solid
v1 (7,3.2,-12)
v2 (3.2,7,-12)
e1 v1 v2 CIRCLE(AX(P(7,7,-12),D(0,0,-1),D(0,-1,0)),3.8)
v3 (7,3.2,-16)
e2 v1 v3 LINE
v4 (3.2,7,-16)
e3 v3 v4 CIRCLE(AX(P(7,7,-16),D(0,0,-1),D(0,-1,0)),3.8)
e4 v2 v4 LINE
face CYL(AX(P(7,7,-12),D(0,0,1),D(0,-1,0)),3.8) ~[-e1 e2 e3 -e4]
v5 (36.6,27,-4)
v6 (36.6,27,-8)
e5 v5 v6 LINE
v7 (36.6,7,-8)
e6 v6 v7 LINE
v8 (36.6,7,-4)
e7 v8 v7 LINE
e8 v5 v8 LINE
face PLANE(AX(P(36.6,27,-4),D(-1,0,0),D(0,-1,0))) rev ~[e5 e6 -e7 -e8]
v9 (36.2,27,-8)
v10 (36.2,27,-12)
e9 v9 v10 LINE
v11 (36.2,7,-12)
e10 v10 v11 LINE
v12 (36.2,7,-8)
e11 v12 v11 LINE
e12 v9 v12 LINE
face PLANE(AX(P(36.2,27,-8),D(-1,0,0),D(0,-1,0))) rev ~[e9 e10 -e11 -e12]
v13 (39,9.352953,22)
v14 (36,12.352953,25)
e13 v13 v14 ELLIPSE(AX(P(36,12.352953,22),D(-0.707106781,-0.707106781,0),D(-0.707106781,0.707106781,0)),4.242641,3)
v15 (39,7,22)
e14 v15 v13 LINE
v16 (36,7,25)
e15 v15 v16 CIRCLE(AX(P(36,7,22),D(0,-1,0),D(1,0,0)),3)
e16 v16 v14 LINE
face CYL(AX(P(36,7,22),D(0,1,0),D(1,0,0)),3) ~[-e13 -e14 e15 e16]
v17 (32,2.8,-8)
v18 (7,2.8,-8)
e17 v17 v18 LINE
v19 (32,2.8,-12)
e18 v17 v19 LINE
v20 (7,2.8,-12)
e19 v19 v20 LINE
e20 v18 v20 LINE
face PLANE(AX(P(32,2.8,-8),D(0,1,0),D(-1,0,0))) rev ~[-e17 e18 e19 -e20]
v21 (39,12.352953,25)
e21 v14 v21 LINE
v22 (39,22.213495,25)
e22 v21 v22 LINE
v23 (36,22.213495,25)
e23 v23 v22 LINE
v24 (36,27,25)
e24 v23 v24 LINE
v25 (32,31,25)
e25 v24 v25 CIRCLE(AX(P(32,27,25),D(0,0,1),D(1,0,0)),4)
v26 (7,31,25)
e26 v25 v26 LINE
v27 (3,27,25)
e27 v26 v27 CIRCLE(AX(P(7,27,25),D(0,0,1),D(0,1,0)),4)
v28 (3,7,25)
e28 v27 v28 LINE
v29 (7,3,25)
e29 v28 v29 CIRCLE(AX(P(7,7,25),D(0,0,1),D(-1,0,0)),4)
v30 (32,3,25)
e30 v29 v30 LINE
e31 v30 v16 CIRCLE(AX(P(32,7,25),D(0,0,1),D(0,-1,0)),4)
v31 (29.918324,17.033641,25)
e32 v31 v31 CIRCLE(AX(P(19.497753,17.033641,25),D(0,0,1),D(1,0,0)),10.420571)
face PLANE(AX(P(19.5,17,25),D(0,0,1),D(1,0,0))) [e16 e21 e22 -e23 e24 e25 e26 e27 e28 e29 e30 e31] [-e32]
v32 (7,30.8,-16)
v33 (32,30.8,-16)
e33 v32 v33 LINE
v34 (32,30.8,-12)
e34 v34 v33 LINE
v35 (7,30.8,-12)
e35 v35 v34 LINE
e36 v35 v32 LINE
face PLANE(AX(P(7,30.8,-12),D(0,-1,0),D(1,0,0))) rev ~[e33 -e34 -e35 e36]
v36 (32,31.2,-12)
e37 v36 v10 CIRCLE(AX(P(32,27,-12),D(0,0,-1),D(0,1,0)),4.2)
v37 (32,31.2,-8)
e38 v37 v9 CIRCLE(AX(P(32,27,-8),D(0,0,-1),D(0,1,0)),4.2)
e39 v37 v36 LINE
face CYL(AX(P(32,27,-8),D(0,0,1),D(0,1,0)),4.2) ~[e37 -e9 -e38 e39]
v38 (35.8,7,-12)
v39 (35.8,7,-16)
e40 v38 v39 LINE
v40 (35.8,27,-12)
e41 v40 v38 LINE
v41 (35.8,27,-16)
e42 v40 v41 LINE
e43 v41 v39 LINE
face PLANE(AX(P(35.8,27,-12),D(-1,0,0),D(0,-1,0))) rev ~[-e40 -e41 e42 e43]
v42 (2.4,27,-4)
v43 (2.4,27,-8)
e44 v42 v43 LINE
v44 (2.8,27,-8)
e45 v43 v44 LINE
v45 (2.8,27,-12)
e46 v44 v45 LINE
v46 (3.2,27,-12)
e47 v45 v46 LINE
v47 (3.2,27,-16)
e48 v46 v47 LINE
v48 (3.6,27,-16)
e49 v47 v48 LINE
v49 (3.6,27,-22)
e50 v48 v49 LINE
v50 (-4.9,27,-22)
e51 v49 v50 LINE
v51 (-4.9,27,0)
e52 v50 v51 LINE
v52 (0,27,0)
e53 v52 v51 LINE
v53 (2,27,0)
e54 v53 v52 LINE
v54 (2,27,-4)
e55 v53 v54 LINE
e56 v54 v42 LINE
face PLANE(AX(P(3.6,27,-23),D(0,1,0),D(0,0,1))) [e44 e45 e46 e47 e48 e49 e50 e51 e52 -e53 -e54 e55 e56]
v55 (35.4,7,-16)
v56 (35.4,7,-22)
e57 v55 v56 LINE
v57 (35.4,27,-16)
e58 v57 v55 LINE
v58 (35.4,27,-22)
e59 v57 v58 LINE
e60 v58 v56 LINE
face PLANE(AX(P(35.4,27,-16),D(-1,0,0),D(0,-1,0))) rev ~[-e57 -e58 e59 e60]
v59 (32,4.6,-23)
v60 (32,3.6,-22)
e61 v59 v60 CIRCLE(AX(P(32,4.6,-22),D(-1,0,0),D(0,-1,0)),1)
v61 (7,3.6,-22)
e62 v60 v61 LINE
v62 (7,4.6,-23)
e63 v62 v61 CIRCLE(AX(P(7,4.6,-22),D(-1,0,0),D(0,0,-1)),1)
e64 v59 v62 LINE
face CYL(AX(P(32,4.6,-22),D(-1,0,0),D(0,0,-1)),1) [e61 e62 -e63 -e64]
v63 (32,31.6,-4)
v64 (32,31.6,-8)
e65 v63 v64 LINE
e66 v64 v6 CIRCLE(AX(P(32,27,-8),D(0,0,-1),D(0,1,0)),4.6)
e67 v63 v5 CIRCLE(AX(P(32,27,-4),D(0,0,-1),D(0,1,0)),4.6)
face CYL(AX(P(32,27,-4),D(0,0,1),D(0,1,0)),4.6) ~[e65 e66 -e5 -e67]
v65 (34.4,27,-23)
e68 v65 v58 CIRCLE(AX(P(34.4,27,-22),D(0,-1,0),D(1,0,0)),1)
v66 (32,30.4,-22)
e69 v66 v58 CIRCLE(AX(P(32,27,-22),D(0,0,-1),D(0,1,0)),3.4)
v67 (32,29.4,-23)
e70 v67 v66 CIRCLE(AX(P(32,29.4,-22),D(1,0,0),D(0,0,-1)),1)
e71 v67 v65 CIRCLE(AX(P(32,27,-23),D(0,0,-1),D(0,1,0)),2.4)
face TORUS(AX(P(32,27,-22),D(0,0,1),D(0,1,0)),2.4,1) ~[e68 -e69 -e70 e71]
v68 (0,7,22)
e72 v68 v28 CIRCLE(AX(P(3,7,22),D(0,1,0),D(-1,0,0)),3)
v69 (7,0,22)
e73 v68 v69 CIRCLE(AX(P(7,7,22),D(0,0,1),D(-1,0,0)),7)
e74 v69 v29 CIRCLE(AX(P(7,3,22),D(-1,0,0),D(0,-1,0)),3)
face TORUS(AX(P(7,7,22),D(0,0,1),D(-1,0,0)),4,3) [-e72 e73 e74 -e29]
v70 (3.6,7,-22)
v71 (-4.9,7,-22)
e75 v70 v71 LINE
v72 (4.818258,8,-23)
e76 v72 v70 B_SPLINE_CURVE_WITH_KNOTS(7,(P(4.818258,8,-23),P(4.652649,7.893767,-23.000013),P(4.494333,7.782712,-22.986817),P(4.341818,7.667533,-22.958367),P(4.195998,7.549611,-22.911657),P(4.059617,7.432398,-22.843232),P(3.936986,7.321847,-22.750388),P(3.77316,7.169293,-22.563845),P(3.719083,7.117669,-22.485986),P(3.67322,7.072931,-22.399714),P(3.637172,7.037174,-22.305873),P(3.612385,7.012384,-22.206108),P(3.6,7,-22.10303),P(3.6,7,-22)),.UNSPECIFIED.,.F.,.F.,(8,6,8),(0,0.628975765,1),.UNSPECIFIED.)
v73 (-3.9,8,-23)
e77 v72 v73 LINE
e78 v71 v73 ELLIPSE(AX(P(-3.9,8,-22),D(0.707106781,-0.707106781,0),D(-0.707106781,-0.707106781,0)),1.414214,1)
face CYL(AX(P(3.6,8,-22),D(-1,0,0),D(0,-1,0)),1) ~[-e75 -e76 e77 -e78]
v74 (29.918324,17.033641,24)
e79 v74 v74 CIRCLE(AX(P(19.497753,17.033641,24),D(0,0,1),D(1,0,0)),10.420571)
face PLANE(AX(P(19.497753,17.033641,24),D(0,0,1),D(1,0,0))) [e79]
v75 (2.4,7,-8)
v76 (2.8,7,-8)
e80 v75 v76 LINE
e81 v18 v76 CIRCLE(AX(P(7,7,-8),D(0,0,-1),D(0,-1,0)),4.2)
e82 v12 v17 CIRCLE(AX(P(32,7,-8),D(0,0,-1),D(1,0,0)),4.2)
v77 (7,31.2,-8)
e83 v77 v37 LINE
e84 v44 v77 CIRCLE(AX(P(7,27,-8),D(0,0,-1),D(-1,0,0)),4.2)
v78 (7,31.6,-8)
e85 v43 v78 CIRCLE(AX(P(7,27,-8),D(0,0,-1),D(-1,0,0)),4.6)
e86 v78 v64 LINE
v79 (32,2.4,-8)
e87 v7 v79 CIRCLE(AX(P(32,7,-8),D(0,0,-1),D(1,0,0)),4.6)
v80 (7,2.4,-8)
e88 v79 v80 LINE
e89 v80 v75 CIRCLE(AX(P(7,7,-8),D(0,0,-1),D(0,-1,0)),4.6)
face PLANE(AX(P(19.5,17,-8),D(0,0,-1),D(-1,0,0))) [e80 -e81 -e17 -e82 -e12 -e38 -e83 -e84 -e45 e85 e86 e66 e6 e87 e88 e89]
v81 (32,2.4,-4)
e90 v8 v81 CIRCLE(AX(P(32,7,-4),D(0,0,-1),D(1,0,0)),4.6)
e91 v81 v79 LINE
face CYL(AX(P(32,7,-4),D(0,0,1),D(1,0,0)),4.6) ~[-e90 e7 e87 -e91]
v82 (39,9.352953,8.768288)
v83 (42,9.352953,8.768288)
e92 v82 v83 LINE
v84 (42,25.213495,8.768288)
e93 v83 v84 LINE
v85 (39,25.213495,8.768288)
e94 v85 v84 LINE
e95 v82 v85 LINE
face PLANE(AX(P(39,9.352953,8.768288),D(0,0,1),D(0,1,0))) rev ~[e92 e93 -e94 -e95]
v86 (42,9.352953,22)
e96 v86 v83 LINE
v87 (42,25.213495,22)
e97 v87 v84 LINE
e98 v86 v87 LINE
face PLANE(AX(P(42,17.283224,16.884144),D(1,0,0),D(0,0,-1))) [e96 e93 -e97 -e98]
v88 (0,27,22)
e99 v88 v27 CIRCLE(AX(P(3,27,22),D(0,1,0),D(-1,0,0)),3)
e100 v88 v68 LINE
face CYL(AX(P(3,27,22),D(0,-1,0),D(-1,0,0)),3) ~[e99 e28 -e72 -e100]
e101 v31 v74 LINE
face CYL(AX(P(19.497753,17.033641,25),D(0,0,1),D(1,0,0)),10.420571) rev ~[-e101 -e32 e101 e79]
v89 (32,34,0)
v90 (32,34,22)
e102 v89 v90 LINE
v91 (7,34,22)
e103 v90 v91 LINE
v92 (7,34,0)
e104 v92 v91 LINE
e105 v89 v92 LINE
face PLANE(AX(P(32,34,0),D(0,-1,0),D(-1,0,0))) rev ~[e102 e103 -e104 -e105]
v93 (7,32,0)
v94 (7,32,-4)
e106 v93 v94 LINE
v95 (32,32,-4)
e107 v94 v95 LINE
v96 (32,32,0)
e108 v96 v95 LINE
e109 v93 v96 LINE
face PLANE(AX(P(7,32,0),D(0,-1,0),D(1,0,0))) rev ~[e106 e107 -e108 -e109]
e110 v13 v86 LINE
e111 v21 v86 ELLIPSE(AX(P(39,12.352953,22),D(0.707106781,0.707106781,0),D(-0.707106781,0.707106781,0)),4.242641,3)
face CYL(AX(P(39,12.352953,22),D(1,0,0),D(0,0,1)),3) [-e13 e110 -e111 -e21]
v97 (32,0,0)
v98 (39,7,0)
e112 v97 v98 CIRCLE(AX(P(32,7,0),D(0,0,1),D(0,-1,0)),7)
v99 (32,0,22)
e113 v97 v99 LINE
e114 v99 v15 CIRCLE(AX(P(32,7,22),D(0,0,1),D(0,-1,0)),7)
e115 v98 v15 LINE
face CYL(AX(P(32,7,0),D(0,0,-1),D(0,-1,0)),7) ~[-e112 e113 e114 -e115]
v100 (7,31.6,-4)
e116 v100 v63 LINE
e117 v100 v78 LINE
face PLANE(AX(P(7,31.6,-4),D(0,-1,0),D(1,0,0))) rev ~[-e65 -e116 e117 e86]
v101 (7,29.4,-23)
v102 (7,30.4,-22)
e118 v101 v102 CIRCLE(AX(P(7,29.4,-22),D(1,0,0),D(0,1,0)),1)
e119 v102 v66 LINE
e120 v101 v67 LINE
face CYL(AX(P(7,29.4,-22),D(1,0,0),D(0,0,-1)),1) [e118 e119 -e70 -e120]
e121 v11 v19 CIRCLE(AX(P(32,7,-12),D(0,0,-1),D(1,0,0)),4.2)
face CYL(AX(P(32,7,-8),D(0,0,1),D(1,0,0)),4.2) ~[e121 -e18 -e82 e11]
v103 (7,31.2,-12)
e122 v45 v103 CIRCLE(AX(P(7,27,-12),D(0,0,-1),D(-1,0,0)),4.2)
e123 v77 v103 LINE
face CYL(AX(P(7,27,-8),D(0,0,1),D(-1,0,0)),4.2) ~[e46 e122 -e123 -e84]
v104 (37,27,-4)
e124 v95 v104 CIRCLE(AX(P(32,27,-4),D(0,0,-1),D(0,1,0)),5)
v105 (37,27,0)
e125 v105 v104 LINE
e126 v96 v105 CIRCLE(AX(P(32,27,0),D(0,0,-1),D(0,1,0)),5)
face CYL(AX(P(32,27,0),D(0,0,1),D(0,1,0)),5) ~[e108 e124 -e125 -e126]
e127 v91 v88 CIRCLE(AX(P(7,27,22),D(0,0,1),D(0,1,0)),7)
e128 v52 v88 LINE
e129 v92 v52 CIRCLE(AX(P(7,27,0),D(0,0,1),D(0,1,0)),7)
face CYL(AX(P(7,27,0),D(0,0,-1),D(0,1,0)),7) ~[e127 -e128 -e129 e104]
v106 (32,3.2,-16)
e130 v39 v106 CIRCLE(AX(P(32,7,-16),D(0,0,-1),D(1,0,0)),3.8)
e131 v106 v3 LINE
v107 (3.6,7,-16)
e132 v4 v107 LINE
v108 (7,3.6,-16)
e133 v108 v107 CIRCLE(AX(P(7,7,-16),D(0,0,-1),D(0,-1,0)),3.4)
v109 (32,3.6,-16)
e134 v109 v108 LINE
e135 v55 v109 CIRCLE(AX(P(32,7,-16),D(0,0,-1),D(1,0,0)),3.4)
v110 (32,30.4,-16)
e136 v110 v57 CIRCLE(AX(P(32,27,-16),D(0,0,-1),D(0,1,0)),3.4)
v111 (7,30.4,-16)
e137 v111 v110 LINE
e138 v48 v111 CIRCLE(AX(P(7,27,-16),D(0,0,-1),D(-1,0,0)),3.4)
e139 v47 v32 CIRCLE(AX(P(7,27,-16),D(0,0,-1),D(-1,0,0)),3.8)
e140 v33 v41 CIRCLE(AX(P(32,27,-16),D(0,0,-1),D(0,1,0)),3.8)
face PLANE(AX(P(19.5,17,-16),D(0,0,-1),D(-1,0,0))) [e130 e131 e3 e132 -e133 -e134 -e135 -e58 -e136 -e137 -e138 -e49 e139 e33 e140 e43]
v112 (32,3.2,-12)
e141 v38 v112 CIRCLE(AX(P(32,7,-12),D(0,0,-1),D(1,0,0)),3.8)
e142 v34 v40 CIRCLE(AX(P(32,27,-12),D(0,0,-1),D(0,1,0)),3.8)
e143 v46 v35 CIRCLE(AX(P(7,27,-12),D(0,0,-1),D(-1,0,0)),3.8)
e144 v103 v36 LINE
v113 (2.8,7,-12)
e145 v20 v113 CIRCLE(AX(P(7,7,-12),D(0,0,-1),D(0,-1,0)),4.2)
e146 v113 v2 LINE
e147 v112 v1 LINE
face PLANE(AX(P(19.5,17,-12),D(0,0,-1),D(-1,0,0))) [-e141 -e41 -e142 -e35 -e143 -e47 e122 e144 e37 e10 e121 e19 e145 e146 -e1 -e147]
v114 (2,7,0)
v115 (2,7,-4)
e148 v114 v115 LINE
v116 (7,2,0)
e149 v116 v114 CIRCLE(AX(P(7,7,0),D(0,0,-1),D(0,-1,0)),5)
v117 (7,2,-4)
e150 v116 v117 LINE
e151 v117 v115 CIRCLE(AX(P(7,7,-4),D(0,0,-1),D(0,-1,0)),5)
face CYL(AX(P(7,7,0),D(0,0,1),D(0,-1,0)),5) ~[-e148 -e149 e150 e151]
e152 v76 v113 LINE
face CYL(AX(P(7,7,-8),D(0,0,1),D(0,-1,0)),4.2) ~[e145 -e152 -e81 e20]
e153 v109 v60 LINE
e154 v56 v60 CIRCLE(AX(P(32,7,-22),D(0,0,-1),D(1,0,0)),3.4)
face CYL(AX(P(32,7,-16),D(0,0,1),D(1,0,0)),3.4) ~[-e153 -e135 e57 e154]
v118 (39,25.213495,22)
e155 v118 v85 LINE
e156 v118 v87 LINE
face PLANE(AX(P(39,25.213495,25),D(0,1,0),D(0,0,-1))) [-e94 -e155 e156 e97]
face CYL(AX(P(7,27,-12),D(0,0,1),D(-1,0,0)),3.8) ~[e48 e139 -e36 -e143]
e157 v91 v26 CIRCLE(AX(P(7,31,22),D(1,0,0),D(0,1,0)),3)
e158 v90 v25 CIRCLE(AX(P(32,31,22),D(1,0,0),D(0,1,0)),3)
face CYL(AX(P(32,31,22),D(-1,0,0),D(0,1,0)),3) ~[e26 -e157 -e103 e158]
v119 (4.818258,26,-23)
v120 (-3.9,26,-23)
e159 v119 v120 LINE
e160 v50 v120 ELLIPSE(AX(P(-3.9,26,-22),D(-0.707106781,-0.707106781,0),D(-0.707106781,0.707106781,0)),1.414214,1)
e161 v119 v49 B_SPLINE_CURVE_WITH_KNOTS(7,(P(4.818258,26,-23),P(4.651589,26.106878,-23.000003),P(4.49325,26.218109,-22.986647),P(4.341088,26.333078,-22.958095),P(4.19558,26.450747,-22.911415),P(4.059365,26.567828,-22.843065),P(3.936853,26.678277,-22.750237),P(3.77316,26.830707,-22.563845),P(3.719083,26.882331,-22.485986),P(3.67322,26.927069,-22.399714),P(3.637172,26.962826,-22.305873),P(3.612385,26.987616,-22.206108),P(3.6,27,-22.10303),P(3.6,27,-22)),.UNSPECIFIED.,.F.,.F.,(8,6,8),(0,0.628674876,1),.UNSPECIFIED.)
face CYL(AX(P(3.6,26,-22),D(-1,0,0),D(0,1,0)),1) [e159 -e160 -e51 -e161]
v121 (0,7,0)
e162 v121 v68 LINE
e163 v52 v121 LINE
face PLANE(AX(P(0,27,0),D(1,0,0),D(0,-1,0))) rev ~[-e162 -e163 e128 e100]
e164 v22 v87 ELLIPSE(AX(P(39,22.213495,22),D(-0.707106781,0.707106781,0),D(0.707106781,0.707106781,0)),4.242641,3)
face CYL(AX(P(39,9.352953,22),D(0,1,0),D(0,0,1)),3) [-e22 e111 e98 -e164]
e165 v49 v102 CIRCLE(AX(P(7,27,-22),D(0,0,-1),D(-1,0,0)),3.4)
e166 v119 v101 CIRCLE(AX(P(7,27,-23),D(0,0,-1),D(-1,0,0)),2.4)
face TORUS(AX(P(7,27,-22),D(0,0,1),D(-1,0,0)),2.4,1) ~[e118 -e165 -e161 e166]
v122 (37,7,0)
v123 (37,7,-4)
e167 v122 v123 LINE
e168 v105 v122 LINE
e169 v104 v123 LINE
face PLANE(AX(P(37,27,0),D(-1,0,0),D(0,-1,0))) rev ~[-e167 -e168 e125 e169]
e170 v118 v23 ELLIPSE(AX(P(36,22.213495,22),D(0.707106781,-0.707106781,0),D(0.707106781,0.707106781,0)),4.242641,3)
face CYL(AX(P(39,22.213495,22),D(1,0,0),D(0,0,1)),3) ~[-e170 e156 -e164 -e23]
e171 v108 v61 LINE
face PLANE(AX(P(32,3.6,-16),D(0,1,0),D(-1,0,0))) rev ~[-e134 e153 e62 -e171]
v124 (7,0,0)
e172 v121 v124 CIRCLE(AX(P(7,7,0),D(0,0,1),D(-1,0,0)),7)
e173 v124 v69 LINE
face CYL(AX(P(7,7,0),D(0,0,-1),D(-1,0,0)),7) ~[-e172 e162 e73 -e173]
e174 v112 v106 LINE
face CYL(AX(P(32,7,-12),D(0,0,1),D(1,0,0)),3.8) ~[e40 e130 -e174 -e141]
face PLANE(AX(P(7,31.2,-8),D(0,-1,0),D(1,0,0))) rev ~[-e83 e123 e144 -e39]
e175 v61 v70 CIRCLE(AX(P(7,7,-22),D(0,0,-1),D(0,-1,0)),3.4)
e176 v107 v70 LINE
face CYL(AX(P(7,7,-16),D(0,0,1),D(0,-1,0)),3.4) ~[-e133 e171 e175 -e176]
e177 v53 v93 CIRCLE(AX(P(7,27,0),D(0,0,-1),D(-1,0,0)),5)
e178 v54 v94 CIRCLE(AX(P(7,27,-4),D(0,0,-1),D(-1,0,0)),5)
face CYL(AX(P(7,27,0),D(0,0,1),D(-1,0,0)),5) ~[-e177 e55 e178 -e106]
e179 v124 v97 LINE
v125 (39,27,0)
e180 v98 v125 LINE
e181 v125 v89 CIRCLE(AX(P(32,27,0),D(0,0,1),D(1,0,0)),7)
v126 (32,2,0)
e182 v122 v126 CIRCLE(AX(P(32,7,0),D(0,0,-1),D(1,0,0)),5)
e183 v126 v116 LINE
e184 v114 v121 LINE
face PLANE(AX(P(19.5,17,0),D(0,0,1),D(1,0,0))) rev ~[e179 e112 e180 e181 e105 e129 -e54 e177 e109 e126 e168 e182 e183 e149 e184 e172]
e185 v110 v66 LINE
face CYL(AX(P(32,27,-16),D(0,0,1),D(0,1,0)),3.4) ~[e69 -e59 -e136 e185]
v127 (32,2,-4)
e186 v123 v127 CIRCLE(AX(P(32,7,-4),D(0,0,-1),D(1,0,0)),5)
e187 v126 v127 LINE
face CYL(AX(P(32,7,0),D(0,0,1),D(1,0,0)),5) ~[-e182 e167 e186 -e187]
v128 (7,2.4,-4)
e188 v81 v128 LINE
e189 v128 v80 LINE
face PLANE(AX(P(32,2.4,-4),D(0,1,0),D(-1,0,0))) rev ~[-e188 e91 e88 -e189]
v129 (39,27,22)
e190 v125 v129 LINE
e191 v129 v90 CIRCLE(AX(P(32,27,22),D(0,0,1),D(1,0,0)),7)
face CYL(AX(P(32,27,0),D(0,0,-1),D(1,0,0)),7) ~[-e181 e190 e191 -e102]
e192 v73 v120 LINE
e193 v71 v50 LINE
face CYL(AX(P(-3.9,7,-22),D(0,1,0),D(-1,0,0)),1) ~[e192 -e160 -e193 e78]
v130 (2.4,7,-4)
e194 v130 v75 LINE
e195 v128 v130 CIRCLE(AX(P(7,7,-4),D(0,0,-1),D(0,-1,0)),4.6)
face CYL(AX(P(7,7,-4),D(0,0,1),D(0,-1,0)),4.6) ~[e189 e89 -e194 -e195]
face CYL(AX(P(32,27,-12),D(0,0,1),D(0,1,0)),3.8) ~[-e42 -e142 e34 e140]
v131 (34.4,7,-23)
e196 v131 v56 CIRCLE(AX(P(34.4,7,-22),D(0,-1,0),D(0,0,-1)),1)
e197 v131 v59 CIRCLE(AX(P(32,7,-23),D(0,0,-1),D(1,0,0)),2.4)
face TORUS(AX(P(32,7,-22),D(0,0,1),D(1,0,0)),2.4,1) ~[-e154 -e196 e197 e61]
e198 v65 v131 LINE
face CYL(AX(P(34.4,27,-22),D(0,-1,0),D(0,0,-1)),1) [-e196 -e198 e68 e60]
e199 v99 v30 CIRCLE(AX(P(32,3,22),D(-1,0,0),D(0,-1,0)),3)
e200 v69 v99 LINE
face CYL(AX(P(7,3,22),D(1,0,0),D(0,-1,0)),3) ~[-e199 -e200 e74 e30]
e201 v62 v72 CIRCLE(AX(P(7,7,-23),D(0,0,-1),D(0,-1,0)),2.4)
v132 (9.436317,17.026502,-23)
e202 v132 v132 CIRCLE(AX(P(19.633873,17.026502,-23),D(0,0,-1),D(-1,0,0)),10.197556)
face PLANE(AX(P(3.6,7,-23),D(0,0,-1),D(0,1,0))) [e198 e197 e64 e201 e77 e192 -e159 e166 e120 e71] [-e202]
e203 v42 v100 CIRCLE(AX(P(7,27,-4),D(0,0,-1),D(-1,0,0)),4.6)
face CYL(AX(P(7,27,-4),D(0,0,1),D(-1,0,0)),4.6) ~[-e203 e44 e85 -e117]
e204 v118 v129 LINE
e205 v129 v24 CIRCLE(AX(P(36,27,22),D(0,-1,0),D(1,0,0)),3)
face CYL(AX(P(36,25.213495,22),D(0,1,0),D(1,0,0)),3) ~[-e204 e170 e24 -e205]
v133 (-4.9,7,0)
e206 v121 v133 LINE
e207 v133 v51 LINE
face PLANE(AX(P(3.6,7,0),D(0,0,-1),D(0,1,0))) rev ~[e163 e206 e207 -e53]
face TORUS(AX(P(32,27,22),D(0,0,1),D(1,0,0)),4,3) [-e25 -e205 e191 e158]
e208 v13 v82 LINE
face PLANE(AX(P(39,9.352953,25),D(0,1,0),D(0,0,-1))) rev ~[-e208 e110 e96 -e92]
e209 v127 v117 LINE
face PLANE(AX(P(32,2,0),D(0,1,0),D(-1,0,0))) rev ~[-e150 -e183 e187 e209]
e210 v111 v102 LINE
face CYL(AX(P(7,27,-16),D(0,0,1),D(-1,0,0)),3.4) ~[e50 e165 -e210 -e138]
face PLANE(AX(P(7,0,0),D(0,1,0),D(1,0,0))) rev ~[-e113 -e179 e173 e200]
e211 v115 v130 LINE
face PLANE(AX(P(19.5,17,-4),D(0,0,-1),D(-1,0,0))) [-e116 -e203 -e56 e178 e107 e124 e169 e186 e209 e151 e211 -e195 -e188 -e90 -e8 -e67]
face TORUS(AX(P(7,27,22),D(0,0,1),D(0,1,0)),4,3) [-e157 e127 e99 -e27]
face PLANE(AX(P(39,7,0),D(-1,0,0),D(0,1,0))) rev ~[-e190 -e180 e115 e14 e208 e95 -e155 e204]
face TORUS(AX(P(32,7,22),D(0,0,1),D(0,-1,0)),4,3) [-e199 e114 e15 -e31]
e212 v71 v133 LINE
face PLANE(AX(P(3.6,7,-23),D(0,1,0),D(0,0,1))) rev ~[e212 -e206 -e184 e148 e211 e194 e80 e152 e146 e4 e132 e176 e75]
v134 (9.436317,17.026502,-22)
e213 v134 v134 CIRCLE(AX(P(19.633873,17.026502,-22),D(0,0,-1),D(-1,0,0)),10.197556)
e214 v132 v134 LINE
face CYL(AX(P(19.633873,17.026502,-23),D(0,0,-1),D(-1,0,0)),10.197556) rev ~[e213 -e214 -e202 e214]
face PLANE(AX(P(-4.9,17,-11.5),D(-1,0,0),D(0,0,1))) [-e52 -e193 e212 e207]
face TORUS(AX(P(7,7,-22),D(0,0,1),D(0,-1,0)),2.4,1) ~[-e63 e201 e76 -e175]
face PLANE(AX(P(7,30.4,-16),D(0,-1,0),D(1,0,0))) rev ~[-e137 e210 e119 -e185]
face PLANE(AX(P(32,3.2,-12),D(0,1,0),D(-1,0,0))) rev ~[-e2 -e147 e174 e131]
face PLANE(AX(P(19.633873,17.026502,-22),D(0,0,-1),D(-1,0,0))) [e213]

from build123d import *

# Parameters (mm, degrees)
EXTRUDE_1_DEPTH     = 25
EXTRUDE_3_DEPTH     = 4
EXTRUDE_4_DEPTH     = 4
EXTRUDE_5_DEPTH     = 4
EXTRUDE_6_DEPTH     = 4
EXTRUDE_7_DEPTH     = 7
SKETCH_7_W          = 23
SKETCH_7_H          = 20
EXTRUDE_8_DEPTH     = 8.5
SKETCH_8_W          = 16.231712275
SKETCH_8_H          = 15.860541866
EXTRUDE_9_DEPTH     = 3
FILLET_1_R          = 3
FILLET_2_R          = 1
SKETCH_9_R          = 10.42057087
CUT_EXTRUDE_1_DEPTH = 1
SKETCH_10_R         = 10.197555966
CUT_EXTRUDE_2_DEPTH = 1


with BuildPart() as part:
    # ｽｹｯﾁ1 → ﾎﾞｽ - 押し出し1 (new body)
    with BuildSketch(Plane.XY):
        with BuildLine():
            Line((7, 0), (32, 0))
            ThreePointArc((32, 0), (36.949747468, 2.050252532), (39, 7))
            Line((39, 7), (39, 27))
            ThreePointArc((39, 27), (36.949747468, 31.949747468), (32, 34))
            Line((32, 34), (7, 34))
            ThreePointArc((7, 34), (2.050252532, 31.949747468), (0, 27))
            Line((0, 27), (0, 7))
            ThreePointArc((0, 7), (2.050252532, 2.050252532), (7, 0))
        make_face()
    extrude(amount=EXTRUDE_1_DEPTH)

    # ｽｹｯﾁ2 → ﾎﾞｽ - 押し出し3 (add)
    with BuildSketch(Plane(origin=(0, 0, 0), x_dir=(-1, 0, 0), z_dir=(0, 0, -1))):
        with BuildLine():
            Line((-37, 27), (-37, 7))
            ThreePointArc((-37, 7), (-35.535533906, 3.464466094), (-32, 2))
            Line((-32, 2), (-7, 2))
            ThreePointArc((-7, 2), (-3.464466094, 3.464466094), (-2, 7))
            Line((-2, 7), (-2, 27))
            ThreePointArc((-2, 27), (-3.464466094, 30.535533906), (-7, 32))
            Line((-7, 32), (-32, 32))
            ThreePointArc((-32, 32), (-35.535533906, 30.535533906), (-37, 27))
        make_face()
    extrude(amount=EXTRUDE_3_DEPTH)

    # ｽｹｯﾁ3 → ﾎﾞｽ - 押し出し4 (add)
    with BuildSketch(Plane(origin=(0, 0, -4), x_dir=(-1, 0, 0), z_dir=(0, 0, -1))):
        with BuildLine():
            Line((-32, 2.4), (-7, 2.4))
            ThreePointArc((-7, 2.4), (-3.747308807, 3.747308807), (-2.4, 7))
            Line((-2.4, 7), (-2.4, 27))
            ThreePointArc((-2.4, 27), (-3.747308807, 30.252691193), (-7, 31.6))
            Line((-7, 31.6), (-32, 31.6))
            ThreePointArc((-32, 31.6), (-35.252691193, 30.252691193), (-36.6, 27))
            Line((-36.6, 27), (-36.6, 7))
            ThreePointArc((-36.6, 7), (-35.252691193, 3.747308807), (-32, 2.4))
        make_face()
    extrude(amount=EXTRUDE_4_DEPTH)

    # ｽｹｯﾁ4 → ﾎﾞｽ - 押し出し5 (add)
    with BuildSketch(Plane(origin=(0, 0, -8), x_dir=(-1, 0, 0), z_dir=(0, 0, -1))):
        with BuildLine():
            Line((-36.2, 27), (-36.2, 7))
            ThreePointArc((-36.2, 7), (-34.969848481, 4.030151519), (-32, 2.8))
            Line((-32, 2.8), (-7, 2.8))
            ThreePointArc((-7, 2.8), (-4.030151519, 4.030151519), (-2.8, 7))
            Line((-2.8, 7), (-2.8, 27))
            ThreePointArc((-2.8, 27), (-4.030151519, 29.969848481), (-7, 31.2))
            Line((-7, 31.2), (-32, 31.2))
            ThreePointArc((-32, 31.2), (-34.969848481, 29.969848481), (-36.2, 27))
        make_face()
    extrude(amount=EXTRUDE_5_DEPTH)

    # ｽｹｯﾁ5 → ﾎﾞｽ - 押し出し6 (add)
    with BuildSketch(Plane(origin=(0, 0, -12), x_dir=(-1, 0, 0), z_dir=(0, 0, -1))):
        with BuildLine():
            Line((-35.8, 27), (-35.8, 7))
            ThreePointArc((-35.8, 7), (-34.687005769, 4.312994231), (-32, 3.2))
            Line((-32, 3.2), (-7, 3.2))
            ThreePointArc((-7, 3.2), (-4.312994231, 4.312994231), (-3.2, 7))
            Line((-3.2, 7), (-3.2, 27))
            ThreePointArc((-3.2, 27), (-4.312994231, 29.687005769), (-7, 30.8))
            Line((-7, 30.8), (-32, 30.8))
            ThreePointArc((-32, 30.8), (-34.687005769, 29.687005769), (-35.8, 27))
        make_face()
    extrude(amount=EXTRUDE_6_DEPTH)

    # ｽｹｯﾁ6 → ﾎﾞｽ - 押し出し7 (add)
    with BuildSketch(Plane(origin=(0, 0, -16), x_dir=(-1, 0, 0), z_dir=(0, 0, -1))):
        with BuildLine():
            Line((-35.4, 27), (-35.4, 7))
            ThreePointArc((-35.4, 7), (-34.404163056, 4.595836944), (-32, 3.6))
            Line((-32, 3.6), (-7, 3.6))
            ThreePointArc((-7, 3.6), (-4.595836944, 4.595836944), (-3.6, 7))
            Line((-3.6, 7), (-3.6, 27))
            ThreePointArc((-3.6, 27), (-4.595836944, 29.404163056), (-7, 30.4))
            Line((-7, 30.4), (-32, 30.4))
            ThreePointArc((-32, 30.4), (-34.404163056, 29.404163056), (-35.4, 27))
        make_face()
    extrude(amount=EXTRUDE_7_DEPTH)

    # ｽｹｯﾁ7 → ﾎﾞｽ - 押し出し8 (add)
    with BuildSketch(Plane.ZY.offset(-3.6)):
        with Locations((-11.5, 17)):
            Rectangle(SKETCH_7_W, SKETCH_7_H)
    extrude(amount=EXTRUDE_8_DEPTH)

    # ｽｹｯﾁ8 → ﾎﾞｽ - 押し出し9 (add)
    with BuildSketch(Plane(origin=(39, 0, 0), x_dir=(0, 0, -1), z_dir=(1, 0, 0))):
        with Locations((-16.884143863, 17.283223962)):
            Rectangle(SKETCH_8_W, SKETCH_8_H)
    extrude(amount=EXTRUDE_9_DEPTH)

    # ﾌｨﾚｯﾄ1
    fillet_1_edges = [part.edges().sort_by_distance(p)[0] for p in [
        (39, 26.106747447, 25),
        (40.5, 25.213494895, 25),
        (42, 17.283223962, 25),
        (40.5, 9.352953029, 25),
        (39, 8.176476514, 25),
        (36.949747468, 2.050252532, 25),
        (19.5, 0, 25),
        (2.050252532, 2.050252532, 25),
        (0, 17, 25),
        (2.050252532, 31.949747468, 25),
        (19.5, 34, 25),
        (36.949747468, 31.949747468, 25),
    ]]
    fillet(fillet_1_edges, radius=FILLET_1_R)

    # ﾌｨﾚｯﾄ2
    fillet_2_edges = [part.edges().sort_by_distance(p)[0] for p in [
        (34.404163056, 29.404163056, -23),
        (35.4, 17, -23),
        (34.404163056, 4.595836944, -23),
        (19.5, 3.6, -23),
        (4.595836944, 4.595836944, -23),
        (4.595836944, 29.404163056, -23),
        (19.5, 30.4, -23),
        (-0.65, 7, -23),
        (-0.65, 27, -23),
        (-4.9, 17, -23),
    ]]
    fillet(fillet_2_edges, radius=FILLET_2_R)

    # ｽｹｯﾁ9 → ｶｯﾄ - 押し出し1 (cut)
    with BuildSketch(Plane.XY.offset(25)):
        with Locations((19.497752913, 17.033640908)):
            Circle(SKETCH_9_R)
    extrude(amount=-CUT_EXTRUDE_1_DEPTH, mode=Mode.SUBTRACT)

    # ｽｹｯﾁ10 → ｶｯﾄ - 押し出し2 (cut)
    with BuildSketch(Plane(origin=(0, 0, -23), x_dir=(-1, 0, 0), z_dir=(0, 0, -1))):
        with Locations((-19.633872533, 17.026501787)):
            Circle(SKETCH_10_R)
    extrude(amount=-CUT_EXTRUDE_2_DEPTH, mode=Mode.SUBTRACT)


solid = part.part
